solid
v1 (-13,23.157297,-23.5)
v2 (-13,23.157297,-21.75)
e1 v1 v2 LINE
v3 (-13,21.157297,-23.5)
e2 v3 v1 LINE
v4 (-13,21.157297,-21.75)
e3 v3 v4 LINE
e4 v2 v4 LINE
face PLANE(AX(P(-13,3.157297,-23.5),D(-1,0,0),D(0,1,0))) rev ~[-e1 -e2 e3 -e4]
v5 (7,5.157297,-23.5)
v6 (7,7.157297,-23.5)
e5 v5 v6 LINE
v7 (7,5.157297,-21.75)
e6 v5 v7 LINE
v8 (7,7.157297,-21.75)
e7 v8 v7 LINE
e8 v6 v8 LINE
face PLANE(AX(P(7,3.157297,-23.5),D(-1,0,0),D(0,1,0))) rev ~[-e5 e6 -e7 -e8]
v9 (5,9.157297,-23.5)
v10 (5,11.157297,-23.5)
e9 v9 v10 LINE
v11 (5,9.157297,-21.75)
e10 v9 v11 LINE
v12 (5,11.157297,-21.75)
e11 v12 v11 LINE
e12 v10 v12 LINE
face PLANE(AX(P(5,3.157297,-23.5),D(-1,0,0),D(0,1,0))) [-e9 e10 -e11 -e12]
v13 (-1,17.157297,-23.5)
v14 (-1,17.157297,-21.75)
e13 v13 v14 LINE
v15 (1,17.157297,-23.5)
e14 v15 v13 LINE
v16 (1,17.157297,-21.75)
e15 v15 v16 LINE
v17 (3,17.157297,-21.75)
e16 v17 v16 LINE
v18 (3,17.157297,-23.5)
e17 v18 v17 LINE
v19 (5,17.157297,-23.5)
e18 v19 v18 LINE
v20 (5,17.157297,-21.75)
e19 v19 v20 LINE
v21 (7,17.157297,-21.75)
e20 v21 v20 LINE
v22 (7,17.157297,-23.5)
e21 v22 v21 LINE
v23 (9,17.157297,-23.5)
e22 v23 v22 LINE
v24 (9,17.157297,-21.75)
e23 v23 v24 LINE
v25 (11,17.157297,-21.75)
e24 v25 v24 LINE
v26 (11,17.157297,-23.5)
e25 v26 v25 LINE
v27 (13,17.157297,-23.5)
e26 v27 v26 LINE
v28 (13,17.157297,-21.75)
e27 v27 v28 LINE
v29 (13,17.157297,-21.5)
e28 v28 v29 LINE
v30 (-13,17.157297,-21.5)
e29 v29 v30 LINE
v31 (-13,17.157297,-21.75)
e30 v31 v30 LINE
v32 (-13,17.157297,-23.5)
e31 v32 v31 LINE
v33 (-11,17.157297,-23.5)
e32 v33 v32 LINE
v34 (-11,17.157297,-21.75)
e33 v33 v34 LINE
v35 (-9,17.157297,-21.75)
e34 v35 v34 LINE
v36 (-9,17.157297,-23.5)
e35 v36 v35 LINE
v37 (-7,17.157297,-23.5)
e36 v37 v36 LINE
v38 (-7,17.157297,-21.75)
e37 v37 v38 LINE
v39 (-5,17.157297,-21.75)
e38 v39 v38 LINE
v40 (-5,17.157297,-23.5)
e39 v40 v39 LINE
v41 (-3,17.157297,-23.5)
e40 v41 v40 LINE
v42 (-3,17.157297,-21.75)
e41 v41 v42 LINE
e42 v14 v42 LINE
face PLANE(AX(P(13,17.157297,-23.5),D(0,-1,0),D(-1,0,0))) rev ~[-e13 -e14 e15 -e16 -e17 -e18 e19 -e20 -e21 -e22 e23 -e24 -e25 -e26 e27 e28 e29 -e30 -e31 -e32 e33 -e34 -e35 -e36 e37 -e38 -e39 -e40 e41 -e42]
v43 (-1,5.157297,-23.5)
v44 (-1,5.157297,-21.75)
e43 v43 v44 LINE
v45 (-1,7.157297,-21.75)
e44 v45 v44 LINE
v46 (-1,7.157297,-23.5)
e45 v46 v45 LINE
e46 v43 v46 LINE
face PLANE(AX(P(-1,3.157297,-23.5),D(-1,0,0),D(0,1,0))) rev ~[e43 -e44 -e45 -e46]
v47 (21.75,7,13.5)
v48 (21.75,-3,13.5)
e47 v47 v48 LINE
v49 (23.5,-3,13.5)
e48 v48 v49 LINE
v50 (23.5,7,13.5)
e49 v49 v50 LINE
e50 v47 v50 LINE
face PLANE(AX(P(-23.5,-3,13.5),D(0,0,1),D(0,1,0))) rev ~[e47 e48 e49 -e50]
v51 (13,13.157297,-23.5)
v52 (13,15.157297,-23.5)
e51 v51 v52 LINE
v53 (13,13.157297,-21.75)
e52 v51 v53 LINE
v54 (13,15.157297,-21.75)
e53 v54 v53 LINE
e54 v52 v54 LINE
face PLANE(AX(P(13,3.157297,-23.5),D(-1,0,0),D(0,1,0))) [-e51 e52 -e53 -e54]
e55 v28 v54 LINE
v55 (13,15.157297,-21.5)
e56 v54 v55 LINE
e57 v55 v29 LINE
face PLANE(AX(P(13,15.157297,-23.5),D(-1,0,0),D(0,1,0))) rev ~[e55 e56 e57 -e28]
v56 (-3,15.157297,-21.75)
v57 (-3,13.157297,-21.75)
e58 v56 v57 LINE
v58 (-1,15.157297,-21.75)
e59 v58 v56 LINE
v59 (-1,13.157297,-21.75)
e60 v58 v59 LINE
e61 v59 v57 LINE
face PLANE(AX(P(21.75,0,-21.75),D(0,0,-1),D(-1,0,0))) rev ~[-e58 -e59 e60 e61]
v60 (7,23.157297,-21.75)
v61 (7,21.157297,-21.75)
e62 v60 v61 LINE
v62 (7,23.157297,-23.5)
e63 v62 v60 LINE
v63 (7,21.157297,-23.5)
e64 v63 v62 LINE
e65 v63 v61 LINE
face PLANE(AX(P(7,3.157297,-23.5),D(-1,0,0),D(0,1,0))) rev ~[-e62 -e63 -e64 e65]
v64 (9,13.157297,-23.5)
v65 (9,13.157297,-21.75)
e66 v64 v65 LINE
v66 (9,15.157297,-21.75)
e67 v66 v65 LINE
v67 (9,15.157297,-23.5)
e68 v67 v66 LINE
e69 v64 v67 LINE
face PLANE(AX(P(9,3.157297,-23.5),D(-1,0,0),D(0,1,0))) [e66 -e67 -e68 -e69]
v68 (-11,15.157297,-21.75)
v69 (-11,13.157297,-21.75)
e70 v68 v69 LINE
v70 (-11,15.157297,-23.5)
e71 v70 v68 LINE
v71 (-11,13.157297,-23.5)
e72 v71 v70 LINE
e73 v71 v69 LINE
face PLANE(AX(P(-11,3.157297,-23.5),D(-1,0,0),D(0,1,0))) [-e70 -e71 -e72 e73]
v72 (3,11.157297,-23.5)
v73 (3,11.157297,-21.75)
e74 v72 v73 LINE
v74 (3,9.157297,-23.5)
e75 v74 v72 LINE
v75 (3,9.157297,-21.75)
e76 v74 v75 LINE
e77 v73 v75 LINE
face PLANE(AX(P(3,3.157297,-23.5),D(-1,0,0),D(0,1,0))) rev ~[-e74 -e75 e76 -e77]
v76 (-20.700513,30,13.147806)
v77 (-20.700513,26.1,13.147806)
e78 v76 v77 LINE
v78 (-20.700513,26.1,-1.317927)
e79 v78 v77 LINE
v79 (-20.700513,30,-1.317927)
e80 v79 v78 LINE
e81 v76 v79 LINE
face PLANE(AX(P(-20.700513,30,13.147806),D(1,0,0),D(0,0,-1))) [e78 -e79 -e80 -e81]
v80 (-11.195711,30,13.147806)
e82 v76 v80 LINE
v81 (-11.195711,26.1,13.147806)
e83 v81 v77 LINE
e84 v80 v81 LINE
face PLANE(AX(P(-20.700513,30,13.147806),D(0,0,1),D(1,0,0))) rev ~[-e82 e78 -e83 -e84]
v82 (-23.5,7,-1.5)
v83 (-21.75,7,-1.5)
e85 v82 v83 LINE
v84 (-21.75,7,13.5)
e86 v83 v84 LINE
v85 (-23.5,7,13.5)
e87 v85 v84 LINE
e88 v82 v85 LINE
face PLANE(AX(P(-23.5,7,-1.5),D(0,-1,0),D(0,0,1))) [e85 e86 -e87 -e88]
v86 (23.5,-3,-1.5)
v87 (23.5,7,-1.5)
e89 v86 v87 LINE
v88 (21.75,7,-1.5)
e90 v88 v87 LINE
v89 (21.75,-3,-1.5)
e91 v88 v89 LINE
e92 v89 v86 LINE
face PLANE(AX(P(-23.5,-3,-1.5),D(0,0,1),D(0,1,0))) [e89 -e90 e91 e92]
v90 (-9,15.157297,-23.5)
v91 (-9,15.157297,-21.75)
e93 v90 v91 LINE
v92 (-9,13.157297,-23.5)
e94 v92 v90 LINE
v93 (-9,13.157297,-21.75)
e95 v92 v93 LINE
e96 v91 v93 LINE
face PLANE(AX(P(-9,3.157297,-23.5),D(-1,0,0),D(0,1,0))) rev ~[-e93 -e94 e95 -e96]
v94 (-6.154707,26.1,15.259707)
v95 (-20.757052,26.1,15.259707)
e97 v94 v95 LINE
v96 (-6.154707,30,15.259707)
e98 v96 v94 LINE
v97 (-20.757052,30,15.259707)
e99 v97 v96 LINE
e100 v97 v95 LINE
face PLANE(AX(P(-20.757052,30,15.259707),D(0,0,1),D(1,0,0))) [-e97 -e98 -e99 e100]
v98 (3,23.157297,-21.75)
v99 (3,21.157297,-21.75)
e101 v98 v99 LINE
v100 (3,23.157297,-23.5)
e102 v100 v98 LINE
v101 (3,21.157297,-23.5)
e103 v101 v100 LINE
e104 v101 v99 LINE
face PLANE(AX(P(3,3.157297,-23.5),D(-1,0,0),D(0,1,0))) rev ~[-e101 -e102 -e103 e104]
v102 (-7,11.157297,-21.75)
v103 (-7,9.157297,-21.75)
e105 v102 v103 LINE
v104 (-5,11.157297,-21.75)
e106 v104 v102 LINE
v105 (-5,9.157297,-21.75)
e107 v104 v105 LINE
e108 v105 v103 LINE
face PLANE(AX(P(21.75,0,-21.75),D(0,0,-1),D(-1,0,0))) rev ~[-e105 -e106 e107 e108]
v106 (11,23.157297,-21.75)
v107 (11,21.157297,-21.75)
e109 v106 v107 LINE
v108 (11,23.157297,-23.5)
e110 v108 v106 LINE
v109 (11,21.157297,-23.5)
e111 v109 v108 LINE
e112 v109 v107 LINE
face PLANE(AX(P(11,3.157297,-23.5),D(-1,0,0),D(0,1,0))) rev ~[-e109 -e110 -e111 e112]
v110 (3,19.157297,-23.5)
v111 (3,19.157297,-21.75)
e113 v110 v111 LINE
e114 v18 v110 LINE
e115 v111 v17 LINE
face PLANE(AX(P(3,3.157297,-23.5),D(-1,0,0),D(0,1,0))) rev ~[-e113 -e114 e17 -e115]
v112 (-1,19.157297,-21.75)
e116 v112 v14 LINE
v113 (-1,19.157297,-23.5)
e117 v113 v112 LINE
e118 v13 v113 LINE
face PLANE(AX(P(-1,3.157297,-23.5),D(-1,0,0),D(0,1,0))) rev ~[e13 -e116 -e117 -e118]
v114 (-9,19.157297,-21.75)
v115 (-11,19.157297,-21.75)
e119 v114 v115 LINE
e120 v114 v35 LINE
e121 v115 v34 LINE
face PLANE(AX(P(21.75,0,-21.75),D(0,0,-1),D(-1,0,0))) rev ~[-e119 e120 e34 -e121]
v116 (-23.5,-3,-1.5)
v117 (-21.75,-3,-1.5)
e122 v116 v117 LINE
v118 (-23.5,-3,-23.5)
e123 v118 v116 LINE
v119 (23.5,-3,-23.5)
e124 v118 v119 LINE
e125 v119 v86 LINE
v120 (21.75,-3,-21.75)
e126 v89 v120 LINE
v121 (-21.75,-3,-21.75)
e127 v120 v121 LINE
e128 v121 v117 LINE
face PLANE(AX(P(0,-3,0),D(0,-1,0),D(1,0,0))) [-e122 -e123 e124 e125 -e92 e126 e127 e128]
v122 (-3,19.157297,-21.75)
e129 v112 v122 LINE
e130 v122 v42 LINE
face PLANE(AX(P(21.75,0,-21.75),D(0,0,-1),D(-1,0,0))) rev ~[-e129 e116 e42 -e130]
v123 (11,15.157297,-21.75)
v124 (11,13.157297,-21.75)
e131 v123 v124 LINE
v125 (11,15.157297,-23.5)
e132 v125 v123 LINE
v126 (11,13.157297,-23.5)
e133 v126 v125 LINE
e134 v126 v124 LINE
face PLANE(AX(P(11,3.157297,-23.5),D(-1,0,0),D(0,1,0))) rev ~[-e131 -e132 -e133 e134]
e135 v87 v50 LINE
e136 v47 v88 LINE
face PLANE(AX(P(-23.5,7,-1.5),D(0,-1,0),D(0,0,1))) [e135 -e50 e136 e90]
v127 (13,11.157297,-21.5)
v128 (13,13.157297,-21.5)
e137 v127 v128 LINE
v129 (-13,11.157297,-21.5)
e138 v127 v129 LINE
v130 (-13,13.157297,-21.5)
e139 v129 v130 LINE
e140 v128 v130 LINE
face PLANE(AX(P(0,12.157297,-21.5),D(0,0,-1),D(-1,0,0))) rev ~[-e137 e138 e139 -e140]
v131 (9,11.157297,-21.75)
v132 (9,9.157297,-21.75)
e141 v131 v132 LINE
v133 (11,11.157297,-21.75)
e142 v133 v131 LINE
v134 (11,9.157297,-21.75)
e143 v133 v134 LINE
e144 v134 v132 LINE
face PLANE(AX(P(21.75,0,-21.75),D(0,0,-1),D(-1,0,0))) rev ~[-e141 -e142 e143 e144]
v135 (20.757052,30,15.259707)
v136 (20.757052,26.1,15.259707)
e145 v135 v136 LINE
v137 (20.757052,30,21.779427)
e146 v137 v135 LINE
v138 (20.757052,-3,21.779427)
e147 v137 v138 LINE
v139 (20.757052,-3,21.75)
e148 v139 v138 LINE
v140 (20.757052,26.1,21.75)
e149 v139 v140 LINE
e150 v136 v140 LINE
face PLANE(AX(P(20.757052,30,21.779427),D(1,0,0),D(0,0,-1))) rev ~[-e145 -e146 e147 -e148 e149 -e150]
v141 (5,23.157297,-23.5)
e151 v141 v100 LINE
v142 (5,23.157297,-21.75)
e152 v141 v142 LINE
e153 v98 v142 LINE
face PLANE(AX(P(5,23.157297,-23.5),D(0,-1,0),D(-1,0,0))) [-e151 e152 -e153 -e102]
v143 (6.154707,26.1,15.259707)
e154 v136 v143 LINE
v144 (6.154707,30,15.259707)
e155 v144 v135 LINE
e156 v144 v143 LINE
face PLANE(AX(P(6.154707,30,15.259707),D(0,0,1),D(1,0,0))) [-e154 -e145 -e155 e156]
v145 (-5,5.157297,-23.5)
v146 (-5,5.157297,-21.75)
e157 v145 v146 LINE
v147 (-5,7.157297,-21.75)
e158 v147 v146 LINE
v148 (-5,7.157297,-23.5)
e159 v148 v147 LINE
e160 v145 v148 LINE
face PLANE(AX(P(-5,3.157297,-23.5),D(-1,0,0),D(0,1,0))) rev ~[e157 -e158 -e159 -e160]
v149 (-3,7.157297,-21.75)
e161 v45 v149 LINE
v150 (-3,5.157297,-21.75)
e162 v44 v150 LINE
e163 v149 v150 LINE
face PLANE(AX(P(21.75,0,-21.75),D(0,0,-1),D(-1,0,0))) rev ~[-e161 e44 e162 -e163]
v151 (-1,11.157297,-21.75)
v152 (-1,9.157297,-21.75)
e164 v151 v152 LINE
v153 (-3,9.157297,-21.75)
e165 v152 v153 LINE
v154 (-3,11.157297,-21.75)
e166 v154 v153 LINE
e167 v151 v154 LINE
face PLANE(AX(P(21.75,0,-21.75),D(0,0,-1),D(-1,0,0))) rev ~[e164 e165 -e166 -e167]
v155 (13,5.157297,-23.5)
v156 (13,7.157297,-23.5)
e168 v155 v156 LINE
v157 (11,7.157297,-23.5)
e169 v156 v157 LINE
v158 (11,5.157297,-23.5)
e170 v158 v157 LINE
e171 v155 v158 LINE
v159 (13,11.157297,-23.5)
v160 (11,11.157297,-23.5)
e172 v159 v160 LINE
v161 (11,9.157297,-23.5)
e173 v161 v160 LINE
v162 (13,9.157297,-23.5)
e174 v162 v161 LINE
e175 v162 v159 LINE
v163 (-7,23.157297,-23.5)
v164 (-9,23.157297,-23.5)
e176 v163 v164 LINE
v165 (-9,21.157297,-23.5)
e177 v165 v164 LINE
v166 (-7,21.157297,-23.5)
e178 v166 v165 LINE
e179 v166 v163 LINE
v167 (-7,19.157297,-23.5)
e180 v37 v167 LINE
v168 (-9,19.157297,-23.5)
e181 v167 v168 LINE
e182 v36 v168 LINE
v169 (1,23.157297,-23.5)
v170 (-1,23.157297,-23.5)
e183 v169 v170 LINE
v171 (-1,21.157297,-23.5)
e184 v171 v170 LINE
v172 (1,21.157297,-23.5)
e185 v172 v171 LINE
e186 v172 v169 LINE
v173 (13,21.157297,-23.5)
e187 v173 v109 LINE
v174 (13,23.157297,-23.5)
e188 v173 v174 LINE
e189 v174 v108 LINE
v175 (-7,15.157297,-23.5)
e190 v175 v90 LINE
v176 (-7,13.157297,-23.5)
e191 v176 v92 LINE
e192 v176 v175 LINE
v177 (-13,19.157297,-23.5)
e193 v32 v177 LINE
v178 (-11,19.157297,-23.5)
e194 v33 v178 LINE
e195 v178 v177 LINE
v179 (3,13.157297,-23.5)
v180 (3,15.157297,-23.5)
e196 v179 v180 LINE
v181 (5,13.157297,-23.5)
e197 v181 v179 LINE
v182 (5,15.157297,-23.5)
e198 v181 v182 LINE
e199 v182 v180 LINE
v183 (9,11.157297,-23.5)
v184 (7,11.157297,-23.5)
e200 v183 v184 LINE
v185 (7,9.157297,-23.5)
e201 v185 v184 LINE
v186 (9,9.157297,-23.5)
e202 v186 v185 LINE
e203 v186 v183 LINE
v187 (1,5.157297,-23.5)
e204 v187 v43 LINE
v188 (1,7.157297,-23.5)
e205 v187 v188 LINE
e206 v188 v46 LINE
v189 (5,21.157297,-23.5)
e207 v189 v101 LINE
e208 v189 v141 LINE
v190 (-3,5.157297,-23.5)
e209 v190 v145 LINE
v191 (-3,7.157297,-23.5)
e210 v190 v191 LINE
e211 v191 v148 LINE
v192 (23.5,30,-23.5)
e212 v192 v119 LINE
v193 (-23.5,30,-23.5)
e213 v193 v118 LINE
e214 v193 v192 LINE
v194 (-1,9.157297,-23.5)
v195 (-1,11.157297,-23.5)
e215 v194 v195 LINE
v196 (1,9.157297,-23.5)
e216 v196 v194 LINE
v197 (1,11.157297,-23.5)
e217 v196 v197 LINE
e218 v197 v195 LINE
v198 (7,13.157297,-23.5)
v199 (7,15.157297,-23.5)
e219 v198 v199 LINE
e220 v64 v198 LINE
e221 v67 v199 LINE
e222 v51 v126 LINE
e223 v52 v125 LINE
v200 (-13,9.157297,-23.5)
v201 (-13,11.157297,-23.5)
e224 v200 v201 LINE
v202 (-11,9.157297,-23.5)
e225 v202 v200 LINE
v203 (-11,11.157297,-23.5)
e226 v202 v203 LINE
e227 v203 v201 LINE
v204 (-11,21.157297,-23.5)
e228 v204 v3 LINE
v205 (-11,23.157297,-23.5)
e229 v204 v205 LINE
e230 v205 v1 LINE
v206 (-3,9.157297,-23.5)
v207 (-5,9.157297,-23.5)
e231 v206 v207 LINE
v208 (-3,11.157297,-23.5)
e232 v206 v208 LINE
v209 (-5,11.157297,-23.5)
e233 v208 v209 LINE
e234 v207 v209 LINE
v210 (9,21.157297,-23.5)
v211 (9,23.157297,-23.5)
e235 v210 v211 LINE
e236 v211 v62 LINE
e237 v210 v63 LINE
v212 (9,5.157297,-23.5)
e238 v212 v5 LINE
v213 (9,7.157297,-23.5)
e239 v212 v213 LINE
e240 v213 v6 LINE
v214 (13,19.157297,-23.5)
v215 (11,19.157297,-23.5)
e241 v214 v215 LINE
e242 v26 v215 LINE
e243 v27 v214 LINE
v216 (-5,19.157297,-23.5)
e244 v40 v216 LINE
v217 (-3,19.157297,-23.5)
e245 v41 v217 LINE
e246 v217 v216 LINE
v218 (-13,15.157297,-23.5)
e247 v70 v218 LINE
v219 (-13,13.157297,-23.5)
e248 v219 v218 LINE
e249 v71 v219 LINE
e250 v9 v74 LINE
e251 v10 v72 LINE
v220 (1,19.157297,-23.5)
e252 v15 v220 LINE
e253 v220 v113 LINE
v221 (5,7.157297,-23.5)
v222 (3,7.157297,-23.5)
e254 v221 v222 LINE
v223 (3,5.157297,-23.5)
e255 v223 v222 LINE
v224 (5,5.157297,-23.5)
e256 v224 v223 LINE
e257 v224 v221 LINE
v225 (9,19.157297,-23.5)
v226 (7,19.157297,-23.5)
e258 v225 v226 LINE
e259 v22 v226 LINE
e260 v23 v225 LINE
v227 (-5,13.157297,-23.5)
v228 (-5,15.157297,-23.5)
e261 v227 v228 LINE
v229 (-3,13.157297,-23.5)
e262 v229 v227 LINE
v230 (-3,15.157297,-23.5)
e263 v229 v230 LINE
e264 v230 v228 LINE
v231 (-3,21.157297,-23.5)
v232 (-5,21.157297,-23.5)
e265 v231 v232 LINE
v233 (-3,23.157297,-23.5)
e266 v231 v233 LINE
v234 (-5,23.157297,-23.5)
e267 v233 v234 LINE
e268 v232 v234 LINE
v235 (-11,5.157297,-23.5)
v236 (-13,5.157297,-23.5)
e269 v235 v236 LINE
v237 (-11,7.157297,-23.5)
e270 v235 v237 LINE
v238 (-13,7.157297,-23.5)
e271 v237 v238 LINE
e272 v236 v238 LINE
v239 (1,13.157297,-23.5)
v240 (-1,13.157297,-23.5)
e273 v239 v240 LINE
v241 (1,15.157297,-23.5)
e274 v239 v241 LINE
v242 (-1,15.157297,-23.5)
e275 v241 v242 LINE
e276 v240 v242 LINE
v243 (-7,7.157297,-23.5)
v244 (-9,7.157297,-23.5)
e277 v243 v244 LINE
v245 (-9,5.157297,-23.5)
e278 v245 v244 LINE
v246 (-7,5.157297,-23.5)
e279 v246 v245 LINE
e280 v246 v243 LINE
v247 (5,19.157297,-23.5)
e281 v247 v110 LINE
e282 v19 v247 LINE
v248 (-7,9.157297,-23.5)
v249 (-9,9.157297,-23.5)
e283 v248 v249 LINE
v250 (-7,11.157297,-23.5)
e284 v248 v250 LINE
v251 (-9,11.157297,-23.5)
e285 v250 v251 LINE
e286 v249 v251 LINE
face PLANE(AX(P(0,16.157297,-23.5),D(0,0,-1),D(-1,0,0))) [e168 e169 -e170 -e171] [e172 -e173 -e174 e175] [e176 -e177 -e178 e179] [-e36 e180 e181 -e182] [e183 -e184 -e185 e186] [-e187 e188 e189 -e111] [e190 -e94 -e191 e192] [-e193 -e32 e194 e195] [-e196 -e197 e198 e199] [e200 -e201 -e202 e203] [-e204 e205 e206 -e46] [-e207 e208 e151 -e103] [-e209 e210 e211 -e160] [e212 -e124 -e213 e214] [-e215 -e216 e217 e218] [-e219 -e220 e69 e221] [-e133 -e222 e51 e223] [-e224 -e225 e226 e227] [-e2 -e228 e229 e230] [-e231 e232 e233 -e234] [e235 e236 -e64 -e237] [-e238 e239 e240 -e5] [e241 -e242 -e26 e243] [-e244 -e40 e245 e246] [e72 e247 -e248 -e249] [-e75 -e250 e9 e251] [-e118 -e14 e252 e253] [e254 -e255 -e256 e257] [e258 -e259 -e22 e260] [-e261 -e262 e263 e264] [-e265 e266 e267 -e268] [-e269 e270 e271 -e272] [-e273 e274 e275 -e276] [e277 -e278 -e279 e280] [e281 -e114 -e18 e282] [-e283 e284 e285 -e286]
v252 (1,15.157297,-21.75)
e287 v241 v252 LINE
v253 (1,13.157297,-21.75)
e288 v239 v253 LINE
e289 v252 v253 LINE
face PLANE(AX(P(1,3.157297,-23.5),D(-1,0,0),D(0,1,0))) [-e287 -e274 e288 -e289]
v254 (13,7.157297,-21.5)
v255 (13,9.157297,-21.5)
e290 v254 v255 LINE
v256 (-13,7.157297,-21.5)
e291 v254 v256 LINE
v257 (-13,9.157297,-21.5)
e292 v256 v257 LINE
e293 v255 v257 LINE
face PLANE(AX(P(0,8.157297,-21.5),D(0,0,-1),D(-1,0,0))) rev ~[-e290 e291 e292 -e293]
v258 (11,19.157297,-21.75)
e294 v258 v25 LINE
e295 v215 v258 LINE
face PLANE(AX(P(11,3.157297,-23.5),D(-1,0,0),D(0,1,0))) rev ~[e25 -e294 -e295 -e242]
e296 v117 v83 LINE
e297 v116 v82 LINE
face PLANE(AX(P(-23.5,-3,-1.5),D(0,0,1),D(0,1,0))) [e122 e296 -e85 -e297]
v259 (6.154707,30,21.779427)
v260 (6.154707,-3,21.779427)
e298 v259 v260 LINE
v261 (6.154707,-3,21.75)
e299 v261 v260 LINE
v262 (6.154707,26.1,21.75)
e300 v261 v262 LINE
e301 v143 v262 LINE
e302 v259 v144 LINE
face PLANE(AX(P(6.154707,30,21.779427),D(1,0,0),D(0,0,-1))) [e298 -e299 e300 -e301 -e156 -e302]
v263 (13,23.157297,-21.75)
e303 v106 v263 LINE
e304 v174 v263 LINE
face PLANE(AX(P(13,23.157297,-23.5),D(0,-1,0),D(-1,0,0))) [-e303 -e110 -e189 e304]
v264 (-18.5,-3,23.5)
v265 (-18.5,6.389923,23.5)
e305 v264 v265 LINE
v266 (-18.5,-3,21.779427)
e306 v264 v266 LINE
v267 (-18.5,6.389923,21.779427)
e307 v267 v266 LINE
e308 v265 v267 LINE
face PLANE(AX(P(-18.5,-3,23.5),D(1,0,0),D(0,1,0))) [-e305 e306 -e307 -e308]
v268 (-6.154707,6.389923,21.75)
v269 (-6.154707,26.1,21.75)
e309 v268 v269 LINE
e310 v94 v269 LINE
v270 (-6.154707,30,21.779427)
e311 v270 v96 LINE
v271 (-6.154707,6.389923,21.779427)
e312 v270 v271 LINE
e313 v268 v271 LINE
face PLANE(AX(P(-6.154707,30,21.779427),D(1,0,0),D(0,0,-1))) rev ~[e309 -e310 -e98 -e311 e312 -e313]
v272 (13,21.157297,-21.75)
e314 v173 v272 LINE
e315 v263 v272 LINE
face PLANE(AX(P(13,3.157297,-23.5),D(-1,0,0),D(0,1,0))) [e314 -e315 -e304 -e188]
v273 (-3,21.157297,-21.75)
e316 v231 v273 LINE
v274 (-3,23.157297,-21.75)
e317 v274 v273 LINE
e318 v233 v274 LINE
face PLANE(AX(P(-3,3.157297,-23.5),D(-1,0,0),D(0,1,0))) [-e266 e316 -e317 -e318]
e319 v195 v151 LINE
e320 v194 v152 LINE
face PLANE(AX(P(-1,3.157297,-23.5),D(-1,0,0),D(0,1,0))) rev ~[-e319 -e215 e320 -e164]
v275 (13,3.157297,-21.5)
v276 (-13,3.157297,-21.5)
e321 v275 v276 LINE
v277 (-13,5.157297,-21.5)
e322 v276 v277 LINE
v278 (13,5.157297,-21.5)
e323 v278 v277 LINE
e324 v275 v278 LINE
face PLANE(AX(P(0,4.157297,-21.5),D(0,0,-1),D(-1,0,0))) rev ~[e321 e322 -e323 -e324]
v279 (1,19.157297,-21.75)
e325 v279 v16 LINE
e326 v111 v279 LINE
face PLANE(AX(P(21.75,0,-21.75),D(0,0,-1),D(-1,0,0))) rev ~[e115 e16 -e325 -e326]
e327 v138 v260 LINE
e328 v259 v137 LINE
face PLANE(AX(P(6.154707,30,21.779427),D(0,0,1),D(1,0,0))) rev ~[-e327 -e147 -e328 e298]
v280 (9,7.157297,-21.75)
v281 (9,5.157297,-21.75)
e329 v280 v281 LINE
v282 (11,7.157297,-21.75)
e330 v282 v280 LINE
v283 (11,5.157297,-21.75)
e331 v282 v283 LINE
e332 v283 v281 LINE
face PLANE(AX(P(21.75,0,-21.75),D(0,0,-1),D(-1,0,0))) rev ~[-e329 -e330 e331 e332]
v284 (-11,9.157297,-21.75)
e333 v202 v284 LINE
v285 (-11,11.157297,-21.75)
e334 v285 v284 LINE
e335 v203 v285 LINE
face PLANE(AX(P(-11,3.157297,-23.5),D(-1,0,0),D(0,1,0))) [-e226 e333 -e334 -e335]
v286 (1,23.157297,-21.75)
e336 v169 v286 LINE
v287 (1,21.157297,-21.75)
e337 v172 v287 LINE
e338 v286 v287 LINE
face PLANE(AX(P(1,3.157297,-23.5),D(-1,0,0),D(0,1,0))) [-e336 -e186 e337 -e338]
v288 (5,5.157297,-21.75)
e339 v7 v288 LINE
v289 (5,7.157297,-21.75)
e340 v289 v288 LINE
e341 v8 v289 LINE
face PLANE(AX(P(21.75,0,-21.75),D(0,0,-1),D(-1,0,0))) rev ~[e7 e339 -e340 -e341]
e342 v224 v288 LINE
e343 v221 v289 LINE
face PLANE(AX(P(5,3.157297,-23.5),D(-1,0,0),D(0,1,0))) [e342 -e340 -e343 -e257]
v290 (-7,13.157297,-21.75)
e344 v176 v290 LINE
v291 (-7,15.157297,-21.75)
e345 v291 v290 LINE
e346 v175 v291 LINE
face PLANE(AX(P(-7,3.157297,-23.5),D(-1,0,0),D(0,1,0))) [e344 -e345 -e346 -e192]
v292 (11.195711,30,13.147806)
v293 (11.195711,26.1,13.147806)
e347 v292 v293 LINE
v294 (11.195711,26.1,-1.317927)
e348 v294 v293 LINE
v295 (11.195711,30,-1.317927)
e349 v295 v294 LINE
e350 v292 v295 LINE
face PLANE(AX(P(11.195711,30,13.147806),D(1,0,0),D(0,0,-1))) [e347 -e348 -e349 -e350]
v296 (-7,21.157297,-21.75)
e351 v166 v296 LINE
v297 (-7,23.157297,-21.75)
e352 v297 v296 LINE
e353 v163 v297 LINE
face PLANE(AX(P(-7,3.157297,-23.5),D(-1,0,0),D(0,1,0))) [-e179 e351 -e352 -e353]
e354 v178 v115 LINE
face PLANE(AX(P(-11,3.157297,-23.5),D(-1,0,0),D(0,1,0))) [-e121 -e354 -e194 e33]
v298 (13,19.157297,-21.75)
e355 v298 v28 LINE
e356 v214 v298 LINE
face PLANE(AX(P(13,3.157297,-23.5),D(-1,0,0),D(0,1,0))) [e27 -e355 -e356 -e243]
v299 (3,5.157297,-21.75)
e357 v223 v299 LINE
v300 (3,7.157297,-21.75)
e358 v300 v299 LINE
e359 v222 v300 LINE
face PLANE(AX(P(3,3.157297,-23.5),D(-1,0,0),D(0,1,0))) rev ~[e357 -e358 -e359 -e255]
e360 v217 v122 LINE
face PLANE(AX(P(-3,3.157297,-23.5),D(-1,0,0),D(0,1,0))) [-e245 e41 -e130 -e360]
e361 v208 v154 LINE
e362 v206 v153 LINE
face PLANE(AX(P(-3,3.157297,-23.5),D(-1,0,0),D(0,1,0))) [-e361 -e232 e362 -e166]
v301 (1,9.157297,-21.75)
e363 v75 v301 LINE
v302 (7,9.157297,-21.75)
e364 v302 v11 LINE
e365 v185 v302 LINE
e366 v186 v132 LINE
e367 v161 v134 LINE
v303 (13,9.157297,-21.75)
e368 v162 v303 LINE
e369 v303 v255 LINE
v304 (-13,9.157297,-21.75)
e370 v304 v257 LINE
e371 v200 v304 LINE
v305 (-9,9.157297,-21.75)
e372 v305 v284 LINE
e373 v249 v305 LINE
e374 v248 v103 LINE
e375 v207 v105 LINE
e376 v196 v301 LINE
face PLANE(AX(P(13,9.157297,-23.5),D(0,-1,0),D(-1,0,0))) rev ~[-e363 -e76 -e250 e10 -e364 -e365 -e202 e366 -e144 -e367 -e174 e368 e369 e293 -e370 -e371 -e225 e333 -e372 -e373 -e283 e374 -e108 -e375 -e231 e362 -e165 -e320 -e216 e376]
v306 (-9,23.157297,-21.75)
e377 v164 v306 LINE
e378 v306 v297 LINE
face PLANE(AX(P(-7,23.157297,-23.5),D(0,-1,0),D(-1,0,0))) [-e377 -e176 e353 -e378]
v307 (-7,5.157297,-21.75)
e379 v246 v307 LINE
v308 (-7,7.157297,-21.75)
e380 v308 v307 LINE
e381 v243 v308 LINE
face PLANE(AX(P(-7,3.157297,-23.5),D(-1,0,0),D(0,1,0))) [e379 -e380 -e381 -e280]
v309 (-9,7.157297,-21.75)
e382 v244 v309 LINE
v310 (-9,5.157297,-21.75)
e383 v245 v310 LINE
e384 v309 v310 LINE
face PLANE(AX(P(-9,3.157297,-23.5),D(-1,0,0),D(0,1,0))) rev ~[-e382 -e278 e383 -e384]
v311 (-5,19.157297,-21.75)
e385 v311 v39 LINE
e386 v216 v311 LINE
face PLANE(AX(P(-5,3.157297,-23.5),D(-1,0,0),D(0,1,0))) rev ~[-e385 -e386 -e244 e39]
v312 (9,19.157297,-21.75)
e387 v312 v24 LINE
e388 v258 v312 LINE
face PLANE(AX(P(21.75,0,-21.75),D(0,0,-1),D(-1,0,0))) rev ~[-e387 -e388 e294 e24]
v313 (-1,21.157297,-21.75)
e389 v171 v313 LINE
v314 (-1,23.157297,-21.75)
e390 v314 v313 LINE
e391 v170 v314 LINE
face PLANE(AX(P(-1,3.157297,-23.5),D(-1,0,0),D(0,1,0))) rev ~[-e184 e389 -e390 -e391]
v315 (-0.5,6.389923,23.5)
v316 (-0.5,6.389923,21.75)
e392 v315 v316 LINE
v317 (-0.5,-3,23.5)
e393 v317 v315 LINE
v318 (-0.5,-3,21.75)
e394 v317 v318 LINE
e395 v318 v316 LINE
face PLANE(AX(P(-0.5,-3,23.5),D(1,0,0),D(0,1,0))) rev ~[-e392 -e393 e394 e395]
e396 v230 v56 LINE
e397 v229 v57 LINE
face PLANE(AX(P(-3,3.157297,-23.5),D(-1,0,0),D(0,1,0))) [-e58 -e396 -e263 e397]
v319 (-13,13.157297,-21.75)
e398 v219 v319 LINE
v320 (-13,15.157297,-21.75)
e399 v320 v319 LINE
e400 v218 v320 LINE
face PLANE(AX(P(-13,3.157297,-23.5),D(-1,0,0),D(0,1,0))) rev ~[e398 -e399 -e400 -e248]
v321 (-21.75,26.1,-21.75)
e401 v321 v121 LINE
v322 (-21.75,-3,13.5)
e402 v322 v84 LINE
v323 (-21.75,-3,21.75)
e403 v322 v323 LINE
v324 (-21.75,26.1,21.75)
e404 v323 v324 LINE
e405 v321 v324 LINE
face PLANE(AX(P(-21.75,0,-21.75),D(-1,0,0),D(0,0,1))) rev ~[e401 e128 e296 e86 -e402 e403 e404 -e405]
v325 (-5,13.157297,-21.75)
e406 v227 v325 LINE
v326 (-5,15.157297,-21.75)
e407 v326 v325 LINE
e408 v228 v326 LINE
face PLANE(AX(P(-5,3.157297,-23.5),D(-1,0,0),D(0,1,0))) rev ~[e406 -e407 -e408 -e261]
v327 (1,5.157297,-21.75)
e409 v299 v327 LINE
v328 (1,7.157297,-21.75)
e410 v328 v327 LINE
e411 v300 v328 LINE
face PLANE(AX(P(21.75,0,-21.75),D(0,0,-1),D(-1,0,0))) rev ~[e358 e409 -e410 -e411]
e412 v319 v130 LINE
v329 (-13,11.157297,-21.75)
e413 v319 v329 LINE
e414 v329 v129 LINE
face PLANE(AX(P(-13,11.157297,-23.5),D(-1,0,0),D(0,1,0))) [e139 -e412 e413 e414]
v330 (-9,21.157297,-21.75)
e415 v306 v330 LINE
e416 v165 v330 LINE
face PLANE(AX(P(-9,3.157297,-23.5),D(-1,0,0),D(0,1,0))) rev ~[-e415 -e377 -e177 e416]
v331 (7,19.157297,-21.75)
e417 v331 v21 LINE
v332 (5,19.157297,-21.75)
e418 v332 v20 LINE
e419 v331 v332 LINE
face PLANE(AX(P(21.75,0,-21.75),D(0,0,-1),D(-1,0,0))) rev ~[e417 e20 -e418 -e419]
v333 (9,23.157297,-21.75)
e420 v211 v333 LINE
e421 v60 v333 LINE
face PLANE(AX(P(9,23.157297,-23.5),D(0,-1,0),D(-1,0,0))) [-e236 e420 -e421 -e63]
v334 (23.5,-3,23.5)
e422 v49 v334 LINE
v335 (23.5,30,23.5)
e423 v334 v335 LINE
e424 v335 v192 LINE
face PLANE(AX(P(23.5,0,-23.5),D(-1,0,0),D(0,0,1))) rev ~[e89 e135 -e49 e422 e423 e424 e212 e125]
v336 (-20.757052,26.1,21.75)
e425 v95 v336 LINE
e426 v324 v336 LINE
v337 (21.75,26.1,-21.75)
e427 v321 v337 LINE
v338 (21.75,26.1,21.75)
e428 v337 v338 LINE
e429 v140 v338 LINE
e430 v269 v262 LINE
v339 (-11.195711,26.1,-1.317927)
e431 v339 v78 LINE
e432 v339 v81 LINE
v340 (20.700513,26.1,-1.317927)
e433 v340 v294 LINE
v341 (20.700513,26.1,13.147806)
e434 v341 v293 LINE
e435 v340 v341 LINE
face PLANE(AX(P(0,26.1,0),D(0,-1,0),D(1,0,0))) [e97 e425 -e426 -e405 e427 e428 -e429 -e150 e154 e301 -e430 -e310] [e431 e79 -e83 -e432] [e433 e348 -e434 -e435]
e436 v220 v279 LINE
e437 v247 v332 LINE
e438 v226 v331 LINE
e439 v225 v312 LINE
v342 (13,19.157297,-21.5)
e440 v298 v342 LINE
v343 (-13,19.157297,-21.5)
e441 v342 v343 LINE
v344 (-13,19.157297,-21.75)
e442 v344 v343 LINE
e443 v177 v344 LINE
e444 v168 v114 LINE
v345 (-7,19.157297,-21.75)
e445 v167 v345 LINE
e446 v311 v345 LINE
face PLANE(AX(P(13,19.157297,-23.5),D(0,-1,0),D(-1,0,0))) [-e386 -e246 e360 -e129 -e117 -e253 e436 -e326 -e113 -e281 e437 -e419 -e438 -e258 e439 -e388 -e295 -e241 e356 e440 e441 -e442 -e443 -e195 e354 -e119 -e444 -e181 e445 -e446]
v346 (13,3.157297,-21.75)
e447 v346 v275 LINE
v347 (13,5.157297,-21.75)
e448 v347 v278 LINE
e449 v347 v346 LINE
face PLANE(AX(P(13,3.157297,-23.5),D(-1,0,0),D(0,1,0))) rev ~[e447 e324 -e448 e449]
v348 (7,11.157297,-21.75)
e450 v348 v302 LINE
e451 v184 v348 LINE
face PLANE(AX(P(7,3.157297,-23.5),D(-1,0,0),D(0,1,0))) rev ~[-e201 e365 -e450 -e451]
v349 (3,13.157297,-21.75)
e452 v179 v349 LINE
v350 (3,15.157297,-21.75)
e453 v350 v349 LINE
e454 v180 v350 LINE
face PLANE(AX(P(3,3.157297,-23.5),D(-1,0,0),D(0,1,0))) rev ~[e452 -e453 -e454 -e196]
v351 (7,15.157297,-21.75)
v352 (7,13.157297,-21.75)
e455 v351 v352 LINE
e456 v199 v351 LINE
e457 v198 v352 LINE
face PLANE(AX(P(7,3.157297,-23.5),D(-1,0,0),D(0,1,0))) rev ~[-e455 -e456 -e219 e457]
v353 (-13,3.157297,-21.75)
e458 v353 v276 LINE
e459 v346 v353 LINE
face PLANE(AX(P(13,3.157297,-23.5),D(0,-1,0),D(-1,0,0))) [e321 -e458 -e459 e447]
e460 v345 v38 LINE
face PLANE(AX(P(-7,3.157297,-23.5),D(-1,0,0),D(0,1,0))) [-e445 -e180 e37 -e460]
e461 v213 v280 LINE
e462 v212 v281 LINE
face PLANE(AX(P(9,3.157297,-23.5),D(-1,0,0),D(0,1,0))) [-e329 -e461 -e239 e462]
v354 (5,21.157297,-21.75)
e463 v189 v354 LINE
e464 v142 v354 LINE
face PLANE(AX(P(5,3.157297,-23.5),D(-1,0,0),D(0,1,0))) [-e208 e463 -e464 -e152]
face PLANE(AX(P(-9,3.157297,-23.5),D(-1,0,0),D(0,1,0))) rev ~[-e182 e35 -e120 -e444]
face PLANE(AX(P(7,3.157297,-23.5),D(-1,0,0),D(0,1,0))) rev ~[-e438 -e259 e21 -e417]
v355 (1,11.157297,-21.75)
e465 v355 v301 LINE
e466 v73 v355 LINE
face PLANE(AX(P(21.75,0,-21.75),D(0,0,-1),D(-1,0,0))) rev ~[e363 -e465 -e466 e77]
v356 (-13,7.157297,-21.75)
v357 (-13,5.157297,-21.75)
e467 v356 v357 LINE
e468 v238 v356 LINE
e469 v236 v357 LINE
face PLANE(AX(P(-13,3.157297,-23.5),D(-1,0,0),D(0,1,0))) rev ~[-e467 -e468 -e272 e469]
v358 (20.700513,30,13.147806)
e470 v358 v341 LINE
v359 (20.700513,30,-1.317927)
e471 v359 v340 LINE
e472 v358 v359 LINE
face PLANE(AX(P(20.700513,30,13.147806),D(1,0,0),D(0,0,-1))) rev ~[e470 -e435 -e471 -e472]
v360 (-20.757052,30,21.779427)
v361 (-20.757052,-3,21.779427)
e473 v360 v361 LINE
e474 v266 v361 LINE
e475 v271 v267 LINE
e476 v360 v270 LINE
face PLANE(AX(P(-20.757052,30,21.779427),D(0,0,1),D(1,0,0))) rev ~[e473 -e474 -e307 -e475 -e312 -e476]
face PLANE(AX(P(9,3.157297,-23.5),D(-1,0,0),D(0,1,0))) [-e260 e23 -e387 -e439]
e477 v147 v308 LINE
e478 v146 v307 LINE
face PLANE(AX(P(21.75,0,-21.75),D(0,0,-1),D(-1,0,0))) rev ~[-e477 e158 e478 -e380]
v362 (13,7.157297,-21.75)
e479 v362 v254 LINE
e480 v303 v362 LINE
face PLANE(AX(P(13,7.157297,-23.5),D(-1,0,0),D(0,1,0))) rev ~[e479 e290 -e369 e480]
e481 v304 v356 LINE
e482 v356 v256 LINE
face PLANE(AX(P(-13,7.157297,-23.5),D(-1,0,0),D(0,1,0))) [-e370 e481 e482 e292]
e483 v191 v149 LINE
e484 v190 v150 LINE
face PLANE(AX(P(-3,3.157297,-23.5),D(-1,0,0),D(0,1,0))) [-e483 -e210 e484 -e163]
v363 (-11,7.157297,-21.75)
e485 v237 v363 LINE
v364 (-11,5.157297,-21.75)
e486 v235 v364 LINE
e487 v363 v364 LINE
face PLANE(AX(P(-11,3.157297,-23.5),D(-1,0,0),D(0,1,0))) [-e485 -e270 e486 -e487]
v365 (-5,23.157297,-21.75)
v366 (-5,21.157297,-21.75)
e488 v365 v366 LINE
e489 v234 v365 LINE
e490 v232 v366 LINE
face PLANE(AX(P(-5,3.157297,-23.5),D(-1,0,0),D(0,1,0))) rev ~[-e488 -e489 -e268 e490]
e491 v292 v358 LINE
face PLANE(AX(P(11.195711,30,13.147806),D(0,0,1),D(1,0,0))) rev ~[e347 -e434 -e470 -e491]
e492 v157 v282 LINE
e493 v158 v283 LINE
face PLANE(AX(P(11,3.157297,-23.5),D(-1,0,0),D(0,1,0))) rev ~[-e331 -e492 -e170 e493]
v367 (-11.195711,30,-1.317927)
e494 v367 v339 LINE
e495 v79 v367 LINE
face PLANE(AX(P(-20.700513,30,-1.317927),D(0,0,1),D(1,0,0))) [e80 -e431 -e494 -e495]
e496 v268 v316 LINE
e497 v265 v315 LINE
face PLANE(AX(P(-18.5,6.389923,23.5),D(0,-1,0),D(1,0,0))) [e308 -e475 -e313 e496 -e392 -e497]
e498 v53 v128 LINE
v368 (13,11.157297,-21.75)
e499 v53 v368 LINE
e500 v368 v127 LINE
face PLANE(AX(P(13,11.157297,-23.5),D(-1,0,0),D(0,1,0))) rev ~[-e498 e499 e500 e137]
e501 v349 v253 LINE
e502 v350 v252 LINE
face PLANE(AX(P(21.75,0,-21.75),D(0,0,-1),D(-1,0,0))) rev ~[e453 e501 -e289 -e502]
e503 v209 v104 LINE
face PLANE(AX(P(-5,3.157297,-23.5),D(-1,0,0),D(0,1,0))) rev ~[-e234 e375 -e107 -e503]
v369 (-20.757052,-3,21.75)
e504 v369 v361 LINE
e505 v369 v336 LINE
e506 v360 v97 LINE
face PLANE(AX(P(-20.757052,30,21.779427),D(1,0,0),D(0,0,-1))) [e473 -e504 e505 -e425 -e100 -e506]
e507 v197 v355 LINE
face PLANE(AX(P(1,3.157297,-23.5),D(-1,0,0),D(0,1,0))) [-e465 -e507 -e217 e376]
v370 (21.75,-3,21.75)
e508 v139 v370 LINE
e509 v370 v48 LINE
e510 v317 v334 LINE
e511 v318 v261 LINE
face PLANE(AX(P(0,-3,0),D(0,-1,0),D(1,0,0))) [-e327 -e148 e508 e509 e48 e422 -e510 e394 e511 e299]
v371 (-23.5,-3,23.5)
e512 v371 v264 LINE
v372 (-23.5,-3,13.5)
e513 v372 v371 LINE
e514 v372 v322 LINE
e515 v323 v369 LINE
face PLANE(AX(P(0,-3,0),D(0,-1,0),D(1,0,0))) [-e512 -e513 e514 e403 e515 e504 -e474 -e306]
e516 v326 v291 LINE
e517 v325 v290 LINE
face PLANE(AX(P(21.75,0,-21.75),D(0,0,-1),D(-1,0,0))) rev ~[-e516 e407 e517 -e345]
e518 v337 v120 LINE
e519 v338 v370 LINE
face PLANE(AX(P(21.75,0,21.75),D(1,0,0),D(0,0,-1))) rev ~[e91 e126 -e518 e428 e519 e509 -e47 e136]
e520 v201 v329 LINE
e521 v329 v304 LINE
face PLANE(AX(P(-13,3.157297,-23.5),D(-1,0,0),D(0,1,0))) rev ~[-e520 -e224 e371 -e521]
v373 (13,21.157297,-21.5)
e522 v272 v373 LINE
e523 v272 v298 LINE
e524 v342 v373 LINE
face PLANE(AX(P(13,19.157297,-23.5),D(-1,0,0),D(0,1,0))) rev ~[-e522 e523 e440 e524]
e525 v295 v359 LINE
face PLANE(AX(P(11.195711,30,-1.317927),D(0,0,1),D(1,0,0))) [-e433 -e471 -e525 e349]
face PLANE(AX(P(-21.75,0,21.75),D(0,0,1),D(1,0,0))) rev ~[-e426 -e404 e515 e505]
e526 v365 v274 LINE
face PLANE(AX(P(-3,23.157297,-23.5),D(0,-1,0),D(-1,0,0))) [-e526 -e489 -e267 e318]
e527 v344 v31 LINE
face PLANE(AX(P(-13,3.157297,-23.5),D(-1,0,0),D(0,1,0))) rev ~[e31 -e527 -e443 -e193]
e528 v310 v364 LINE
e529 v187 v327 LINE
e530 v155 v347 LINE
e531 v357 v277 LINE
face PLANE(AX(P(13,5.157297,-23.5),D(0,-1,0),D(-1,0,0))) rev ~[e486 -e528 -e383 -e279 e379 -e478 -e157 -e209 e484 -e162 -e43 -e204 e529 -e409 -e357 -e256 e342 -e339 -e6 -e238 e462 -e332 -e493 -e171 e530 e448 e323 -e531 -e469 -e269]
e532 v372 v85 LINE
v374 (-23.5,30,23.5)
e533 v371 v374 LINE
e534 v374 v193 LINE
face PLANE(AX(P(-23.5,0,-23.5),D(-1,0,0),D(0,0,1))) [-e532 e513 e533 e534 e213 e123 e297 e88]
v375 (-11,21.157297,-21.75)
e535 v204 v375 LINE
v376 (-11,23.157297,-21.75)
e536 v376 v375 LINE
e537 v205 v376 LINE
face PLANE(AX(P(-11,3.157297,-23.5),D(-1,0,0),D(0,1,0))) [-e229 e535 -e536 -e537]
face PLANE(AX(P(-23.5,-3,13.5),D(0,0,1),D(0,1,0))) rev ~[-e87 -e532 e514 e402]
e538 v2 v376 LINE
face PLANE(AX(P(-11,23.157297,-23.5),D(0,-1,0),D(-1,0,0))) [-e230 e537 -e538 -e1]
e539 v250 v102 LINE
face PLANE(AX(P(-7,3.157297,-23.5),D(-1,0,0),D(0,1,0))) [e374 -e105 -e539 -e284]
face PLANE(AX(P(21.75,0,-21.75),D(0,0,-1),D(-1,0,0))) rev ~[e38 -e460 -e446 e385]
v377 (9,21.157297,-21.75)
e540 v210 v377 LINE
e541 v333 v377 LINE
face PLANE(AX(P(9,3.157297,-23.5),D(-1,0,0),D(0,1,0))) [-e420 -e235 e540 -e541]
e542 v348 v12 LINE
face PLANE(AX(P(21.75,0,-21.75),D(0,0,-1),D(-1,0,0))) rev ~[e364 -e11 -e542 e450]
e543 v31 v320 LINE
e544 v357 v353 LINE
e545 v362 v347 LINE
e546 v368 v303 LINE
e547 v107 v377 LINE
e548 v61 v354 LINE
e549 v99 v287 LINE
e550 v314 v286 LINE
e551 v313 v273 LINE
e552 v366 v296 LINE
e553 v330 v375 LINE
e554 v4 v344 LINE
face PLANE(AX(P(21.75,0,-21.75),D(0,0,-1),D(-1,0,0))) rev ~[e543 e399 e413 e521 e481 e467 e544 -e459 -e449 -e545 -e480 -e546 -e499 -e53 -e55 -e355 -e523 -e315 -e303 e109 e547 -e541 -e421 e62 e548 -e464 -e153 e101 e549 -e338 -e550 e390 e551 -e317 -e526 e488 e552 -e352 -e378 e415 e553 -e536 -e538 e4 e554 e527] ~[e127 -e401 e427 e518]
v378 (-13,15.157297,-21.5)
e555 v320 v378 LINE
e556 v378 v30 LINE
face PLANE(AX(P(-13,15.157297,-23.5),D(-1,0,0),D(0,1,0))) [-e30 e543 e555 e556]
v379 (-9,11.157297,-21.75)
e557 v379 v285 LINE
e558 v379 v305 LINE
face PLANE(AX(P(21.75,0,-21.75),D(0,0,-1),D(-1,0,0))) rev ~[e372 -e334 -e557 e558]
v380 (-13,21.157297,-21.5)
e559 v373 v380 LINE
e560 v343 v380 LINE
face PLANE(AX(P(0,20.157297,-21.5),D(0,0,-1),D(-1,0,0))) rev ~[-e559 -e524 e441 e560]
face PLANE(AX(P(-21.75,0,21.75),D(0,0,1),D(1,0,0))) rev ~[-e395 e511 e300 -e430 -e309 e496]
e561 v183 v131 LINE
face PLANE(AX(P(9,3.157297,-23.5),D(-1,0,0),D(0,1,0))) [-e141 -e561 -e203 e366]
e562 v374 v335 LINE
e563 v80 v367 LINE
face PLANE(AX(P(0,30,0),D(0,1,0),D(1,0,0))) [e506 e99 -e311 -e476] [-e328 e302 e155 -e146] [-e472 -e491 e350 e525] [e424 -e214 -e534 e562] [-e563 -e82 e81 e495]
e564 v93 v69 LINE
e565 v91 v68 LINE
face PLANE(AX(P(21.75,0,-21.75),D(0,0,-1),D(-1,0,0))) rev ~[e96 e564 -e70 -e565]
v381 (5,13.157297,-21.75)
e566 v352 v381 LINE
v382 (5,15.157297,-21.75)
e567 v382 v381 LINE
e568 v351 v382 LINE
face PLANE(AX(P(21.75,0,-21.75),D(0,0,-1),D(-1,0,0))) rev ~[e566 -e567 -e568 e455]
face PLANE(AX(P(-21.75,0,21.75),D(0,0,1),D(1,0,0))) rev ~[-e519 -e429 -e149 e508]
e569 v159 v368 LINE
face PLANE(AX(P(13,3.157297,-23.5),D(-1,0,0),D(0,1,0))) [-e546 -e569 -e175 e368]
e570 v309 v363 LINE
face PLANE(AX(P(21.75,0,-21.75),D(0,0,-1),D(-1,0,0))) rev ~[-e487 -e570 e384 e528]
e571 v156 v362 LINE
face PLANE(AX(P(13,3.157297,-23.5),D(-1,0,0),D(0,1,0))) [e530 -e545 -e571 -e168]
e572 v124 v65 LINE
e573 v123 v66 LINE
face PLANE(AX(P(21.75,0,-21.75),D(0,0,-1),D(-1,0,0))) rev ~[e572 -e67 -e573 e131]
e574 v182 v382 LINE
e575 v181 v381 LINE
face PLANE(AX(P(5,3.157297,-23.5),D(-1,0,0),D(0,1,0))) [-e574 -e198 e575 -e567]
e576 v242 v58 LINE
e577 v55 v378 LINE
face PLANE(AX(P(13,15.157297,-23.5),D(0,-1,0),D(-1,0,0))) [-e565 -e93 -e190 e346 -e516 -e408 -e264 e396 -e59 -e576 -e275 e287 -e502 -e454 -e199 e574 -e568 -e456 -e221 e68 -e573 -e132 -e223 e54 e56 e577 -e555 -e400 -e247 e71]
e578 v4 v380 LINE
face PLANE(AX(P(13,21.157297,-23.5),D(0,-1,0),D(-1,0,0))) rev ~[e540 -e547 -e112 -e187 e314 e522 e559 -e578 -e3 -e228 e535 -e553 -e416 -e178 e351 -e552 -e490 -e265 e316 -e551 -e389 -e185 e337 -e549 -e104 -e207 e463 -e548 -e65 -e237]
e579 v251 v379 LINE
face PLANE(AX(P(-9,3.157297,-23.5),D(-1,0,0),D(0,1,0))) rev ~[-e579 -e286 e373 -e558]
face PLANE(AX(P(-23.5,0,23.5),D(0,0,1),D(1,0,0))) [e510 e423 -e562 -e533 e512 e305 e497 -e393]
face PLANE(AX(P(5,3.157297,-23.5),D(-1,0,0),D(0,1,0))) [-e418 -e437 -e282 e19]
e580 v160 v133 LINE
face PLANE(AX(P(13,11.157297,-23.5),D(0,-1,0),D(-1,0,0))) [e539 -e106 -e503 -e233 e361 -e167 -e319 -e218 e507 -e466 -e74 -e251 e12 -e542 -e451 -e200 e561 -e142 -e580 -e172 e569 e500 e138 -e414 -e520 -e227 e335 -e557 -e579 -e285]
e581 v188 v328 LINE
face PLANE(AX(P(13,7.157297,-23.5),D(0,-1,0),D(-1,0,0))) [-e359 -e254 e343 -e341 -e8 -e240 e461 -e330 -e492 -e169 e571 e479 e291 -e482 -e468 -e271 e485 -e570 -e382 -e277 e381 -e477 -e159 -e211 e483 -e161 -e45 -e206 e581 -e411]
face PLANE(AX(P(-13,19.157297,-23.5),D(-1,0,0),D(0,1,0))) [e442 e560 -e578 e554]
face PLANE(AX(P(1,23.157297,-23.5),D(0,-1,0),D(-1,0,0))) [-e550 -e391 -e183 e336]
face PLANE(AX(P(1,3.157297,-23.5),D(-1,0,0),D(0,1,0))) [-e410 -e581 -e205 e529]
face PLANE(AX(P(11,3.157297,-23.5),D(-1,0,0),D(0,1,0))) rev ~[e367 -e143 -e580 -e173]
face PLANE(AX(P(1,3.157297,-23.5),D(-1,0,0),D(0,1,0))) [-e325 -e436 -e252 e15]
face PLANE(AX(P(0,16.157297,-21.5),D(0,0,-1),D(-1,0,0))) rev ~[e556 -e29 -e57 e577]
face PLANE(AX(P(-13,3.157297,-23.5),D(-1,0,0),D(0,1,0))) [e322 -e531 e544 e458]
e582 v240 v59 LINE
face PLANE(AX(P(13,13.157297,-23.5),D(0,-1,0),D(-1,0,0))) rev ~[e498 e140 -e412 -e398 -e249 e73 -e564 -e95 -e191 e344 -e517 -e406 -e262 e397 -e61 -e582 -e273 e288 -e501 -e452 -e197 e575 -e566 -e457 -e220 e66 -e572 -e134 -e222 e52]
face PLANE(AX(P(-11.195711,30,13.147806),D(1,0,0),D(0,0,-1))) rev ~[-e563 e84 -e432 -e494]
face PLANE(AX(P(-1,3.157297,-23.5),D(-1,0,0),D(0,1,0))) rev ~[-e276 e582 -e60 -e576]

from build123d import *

# Parameters (mm, degrees)
SKETCH1_W           = 47
SKETCH1_H           = 47
BOSS_EXTRUDE1_DEPTH = 30
SKETCH2_W           = 43.5
SKETCH2_H           = 43.5
CUT_EXTRUDE1_DEPTH  = 26.1
SKETCH5_W           = 47
SKETCH5_H           = 47
BOSS_EXTRUDE3_DEPTH = 3
CUT_EXTRUDE3_REACH  = 62.508
SKETCH4_W           = 2
SKETCH4_H           = 20
LPATTERN1_COUNT     = 7
LPATTERN1_PITCH     = 4
SKETCH8_W           = 26
SKETCH8_H           = 2
BOSS_EXTRUDE4_DEPTH = 2
LPATTERN2_COUNT     = 5
LPATTERN2_PITCH     = 4
SKETCH9_W           = 18
SKETCH9_H           = 9.389923451
CUT_EXTRUDE4_DEPTH  = 10
SKETCH10_W          = 15
SKETCH10_H          = 10
CUT_EXTRUDE5_DEPTH  = 61.508263898
SKETCH11_W          = 9.504801384
SKETCH11_H          = 14.465733587
SKETCH11_W_2        = 14.602344504
SKETCH11_H_2        = 6.519720082
CUT_EXTRUDE6_DEPTH  = 47.834816109


with BuildPart() as part:
    # Sketch1 → Boss-Extrude1 (new body)
    with BuildSketch(Plane(origin=(0, 0, 0), x_dir=(1, 0, 0), z_dir=(0, 1, 0))):
        Rectangle(SKETCH1_W, SKETCH1_H)
    extrude(amount=BOSS_EXTRUDE1_DEPTH)

    # Sketch2 → Cut-Extrude1 (cut)
    with BuildSketch(Plane.XZ):
        Rectangle(SKETCH2_W, SKETCH2_H)
    extrude(amount=-CUT_EXTRUDE1_DEPTH, mode=Mode.SUBTRACT)

    # Sketch5 → Boss-Extrude3 (add)
    with BuildSketch(Plane.XZ):
        Rectangle(SKETCH5_W, SKETCH5_H)
        Polygon((-16.6, 21.75), (-21.75, 21.75), (-21.75, 16.6), (-21.75, -16.6), (-21.75, -21.75), (-16.6, -21.75), (16.6, -21.75), (21.75, -21.75), (21.75, -16.6), (21.75, 16.6), (21.75, 21.75), (16.6, 21.75), align=None, mode=Mode.SUBTRACT)
    extrude(amount=BOSS_EXTRUDE3_DEPTH)

    # Sketch4 → Cut-Extrude3 (cut, up to next)
    with BuildSketch(Plane(origin=(0, 0, -23.5), x_dir=(-1, 0, 0), z_dir=(0, 0, -1)), mode=Mode.PRIVATE) as cut_extrude3_sk1:
        with Locations((-12, 13.157296847)):
            Rectangle(SKETCH4_W, SKETCH4_H)
    cut_extrude3_tool1 = extrude(cut_extrude3_sk1.sketch, amount=-CUT_EXTRUDE3_REACH, mode=Mode.PRIVATE) & part.part
    cut_extrude3 = cut_extrude3_tool1.solids().sort_by_distance((12, 13.157297, -23.5))[0]
    add(cut_extrude3, mode=Mode.SUBTRACT)

    # LPattern1: Cut-Extrude3 ×7
    with Locations(*[(-i * LPATTERN1_PITCH, 0, 0) for i in range(1, LPATTERN1_COUNT)]):
        add(cut_extrude3, mode=Mode.SUBTRACT)

    # Sketch8 → Boss-Extrude4 (add)
    with BuildSketch(Plane(origin=(0, 0, -23.5), x_dir=(-1, 0, 0), z_dir=(0, 0, -1))):
        with Locations((0, 20.157296847)):
            Rectangle(SKETCH8_W, SKETCH8_H)
    boss_extrude4 = extrude(amount=-BOSS_EXTRUDE4_DEPTH)

    # LPattern2: Boss-Extrude4 ×5
    with Locations(*[(0, -i * LPATTERN2_PITCH, 0) for i in range(1, LPATTERN2_COUNT)]):
        add(boss_extrude4)

    # Sketch9 → Cut-Extrude4 (cut)
    with BuildSketch(Plane.XY.offset(23.5)):
        with Locations((-9.5, 1.694961726)):
            Rectangle(SKETCH9_W, SKETCH9_H)
    extrude(amount=-CUT_EXTRUDE4_DEPTH, mode=Mode.SUBTRACT)

    # Sketch10 → Cut-Extrude5 (cut, through all)
    with BuildSketch(Plane.ZY.offset(23.5)):
        with Locations((6, 2)):
            Rectangle(SKETCH10_W, SKETCH10_H)
    extrude(amount=-CUT_EXTRUDE5_DEPTH, mode=Mode.SUBTRACT)

    # Sketch11 → Cut-Extrude6 (cut, through all)
    with BuildSketch(Plane(origin=(0, 30, 0), x_dir=(1, 0, 0), z_dir=(0, 1, 0))):
        with Locations((-15.948112, -5.914939324)):
            Rectangle(SKETCH11_W, SKETCH11_H)
        with Locations((-13.45587944, -18.519566616)):
            Rectangle(SKETCH11_W_2, SKETCH11_H_2)
        with Locations((15.948112, -5.914939324)):
            Rectangle(SKETCH11_W, SKETCH11_H)
        with Locations((13.45587944, -18.519566616)):
            Rectangle(SKETCH11_W_2, SKETCH11_H_2)
    extrude(amount=-CUT_EXTRUDE6_DEPTH, mode=Mode.SUBTRACT)


solid = part.part
